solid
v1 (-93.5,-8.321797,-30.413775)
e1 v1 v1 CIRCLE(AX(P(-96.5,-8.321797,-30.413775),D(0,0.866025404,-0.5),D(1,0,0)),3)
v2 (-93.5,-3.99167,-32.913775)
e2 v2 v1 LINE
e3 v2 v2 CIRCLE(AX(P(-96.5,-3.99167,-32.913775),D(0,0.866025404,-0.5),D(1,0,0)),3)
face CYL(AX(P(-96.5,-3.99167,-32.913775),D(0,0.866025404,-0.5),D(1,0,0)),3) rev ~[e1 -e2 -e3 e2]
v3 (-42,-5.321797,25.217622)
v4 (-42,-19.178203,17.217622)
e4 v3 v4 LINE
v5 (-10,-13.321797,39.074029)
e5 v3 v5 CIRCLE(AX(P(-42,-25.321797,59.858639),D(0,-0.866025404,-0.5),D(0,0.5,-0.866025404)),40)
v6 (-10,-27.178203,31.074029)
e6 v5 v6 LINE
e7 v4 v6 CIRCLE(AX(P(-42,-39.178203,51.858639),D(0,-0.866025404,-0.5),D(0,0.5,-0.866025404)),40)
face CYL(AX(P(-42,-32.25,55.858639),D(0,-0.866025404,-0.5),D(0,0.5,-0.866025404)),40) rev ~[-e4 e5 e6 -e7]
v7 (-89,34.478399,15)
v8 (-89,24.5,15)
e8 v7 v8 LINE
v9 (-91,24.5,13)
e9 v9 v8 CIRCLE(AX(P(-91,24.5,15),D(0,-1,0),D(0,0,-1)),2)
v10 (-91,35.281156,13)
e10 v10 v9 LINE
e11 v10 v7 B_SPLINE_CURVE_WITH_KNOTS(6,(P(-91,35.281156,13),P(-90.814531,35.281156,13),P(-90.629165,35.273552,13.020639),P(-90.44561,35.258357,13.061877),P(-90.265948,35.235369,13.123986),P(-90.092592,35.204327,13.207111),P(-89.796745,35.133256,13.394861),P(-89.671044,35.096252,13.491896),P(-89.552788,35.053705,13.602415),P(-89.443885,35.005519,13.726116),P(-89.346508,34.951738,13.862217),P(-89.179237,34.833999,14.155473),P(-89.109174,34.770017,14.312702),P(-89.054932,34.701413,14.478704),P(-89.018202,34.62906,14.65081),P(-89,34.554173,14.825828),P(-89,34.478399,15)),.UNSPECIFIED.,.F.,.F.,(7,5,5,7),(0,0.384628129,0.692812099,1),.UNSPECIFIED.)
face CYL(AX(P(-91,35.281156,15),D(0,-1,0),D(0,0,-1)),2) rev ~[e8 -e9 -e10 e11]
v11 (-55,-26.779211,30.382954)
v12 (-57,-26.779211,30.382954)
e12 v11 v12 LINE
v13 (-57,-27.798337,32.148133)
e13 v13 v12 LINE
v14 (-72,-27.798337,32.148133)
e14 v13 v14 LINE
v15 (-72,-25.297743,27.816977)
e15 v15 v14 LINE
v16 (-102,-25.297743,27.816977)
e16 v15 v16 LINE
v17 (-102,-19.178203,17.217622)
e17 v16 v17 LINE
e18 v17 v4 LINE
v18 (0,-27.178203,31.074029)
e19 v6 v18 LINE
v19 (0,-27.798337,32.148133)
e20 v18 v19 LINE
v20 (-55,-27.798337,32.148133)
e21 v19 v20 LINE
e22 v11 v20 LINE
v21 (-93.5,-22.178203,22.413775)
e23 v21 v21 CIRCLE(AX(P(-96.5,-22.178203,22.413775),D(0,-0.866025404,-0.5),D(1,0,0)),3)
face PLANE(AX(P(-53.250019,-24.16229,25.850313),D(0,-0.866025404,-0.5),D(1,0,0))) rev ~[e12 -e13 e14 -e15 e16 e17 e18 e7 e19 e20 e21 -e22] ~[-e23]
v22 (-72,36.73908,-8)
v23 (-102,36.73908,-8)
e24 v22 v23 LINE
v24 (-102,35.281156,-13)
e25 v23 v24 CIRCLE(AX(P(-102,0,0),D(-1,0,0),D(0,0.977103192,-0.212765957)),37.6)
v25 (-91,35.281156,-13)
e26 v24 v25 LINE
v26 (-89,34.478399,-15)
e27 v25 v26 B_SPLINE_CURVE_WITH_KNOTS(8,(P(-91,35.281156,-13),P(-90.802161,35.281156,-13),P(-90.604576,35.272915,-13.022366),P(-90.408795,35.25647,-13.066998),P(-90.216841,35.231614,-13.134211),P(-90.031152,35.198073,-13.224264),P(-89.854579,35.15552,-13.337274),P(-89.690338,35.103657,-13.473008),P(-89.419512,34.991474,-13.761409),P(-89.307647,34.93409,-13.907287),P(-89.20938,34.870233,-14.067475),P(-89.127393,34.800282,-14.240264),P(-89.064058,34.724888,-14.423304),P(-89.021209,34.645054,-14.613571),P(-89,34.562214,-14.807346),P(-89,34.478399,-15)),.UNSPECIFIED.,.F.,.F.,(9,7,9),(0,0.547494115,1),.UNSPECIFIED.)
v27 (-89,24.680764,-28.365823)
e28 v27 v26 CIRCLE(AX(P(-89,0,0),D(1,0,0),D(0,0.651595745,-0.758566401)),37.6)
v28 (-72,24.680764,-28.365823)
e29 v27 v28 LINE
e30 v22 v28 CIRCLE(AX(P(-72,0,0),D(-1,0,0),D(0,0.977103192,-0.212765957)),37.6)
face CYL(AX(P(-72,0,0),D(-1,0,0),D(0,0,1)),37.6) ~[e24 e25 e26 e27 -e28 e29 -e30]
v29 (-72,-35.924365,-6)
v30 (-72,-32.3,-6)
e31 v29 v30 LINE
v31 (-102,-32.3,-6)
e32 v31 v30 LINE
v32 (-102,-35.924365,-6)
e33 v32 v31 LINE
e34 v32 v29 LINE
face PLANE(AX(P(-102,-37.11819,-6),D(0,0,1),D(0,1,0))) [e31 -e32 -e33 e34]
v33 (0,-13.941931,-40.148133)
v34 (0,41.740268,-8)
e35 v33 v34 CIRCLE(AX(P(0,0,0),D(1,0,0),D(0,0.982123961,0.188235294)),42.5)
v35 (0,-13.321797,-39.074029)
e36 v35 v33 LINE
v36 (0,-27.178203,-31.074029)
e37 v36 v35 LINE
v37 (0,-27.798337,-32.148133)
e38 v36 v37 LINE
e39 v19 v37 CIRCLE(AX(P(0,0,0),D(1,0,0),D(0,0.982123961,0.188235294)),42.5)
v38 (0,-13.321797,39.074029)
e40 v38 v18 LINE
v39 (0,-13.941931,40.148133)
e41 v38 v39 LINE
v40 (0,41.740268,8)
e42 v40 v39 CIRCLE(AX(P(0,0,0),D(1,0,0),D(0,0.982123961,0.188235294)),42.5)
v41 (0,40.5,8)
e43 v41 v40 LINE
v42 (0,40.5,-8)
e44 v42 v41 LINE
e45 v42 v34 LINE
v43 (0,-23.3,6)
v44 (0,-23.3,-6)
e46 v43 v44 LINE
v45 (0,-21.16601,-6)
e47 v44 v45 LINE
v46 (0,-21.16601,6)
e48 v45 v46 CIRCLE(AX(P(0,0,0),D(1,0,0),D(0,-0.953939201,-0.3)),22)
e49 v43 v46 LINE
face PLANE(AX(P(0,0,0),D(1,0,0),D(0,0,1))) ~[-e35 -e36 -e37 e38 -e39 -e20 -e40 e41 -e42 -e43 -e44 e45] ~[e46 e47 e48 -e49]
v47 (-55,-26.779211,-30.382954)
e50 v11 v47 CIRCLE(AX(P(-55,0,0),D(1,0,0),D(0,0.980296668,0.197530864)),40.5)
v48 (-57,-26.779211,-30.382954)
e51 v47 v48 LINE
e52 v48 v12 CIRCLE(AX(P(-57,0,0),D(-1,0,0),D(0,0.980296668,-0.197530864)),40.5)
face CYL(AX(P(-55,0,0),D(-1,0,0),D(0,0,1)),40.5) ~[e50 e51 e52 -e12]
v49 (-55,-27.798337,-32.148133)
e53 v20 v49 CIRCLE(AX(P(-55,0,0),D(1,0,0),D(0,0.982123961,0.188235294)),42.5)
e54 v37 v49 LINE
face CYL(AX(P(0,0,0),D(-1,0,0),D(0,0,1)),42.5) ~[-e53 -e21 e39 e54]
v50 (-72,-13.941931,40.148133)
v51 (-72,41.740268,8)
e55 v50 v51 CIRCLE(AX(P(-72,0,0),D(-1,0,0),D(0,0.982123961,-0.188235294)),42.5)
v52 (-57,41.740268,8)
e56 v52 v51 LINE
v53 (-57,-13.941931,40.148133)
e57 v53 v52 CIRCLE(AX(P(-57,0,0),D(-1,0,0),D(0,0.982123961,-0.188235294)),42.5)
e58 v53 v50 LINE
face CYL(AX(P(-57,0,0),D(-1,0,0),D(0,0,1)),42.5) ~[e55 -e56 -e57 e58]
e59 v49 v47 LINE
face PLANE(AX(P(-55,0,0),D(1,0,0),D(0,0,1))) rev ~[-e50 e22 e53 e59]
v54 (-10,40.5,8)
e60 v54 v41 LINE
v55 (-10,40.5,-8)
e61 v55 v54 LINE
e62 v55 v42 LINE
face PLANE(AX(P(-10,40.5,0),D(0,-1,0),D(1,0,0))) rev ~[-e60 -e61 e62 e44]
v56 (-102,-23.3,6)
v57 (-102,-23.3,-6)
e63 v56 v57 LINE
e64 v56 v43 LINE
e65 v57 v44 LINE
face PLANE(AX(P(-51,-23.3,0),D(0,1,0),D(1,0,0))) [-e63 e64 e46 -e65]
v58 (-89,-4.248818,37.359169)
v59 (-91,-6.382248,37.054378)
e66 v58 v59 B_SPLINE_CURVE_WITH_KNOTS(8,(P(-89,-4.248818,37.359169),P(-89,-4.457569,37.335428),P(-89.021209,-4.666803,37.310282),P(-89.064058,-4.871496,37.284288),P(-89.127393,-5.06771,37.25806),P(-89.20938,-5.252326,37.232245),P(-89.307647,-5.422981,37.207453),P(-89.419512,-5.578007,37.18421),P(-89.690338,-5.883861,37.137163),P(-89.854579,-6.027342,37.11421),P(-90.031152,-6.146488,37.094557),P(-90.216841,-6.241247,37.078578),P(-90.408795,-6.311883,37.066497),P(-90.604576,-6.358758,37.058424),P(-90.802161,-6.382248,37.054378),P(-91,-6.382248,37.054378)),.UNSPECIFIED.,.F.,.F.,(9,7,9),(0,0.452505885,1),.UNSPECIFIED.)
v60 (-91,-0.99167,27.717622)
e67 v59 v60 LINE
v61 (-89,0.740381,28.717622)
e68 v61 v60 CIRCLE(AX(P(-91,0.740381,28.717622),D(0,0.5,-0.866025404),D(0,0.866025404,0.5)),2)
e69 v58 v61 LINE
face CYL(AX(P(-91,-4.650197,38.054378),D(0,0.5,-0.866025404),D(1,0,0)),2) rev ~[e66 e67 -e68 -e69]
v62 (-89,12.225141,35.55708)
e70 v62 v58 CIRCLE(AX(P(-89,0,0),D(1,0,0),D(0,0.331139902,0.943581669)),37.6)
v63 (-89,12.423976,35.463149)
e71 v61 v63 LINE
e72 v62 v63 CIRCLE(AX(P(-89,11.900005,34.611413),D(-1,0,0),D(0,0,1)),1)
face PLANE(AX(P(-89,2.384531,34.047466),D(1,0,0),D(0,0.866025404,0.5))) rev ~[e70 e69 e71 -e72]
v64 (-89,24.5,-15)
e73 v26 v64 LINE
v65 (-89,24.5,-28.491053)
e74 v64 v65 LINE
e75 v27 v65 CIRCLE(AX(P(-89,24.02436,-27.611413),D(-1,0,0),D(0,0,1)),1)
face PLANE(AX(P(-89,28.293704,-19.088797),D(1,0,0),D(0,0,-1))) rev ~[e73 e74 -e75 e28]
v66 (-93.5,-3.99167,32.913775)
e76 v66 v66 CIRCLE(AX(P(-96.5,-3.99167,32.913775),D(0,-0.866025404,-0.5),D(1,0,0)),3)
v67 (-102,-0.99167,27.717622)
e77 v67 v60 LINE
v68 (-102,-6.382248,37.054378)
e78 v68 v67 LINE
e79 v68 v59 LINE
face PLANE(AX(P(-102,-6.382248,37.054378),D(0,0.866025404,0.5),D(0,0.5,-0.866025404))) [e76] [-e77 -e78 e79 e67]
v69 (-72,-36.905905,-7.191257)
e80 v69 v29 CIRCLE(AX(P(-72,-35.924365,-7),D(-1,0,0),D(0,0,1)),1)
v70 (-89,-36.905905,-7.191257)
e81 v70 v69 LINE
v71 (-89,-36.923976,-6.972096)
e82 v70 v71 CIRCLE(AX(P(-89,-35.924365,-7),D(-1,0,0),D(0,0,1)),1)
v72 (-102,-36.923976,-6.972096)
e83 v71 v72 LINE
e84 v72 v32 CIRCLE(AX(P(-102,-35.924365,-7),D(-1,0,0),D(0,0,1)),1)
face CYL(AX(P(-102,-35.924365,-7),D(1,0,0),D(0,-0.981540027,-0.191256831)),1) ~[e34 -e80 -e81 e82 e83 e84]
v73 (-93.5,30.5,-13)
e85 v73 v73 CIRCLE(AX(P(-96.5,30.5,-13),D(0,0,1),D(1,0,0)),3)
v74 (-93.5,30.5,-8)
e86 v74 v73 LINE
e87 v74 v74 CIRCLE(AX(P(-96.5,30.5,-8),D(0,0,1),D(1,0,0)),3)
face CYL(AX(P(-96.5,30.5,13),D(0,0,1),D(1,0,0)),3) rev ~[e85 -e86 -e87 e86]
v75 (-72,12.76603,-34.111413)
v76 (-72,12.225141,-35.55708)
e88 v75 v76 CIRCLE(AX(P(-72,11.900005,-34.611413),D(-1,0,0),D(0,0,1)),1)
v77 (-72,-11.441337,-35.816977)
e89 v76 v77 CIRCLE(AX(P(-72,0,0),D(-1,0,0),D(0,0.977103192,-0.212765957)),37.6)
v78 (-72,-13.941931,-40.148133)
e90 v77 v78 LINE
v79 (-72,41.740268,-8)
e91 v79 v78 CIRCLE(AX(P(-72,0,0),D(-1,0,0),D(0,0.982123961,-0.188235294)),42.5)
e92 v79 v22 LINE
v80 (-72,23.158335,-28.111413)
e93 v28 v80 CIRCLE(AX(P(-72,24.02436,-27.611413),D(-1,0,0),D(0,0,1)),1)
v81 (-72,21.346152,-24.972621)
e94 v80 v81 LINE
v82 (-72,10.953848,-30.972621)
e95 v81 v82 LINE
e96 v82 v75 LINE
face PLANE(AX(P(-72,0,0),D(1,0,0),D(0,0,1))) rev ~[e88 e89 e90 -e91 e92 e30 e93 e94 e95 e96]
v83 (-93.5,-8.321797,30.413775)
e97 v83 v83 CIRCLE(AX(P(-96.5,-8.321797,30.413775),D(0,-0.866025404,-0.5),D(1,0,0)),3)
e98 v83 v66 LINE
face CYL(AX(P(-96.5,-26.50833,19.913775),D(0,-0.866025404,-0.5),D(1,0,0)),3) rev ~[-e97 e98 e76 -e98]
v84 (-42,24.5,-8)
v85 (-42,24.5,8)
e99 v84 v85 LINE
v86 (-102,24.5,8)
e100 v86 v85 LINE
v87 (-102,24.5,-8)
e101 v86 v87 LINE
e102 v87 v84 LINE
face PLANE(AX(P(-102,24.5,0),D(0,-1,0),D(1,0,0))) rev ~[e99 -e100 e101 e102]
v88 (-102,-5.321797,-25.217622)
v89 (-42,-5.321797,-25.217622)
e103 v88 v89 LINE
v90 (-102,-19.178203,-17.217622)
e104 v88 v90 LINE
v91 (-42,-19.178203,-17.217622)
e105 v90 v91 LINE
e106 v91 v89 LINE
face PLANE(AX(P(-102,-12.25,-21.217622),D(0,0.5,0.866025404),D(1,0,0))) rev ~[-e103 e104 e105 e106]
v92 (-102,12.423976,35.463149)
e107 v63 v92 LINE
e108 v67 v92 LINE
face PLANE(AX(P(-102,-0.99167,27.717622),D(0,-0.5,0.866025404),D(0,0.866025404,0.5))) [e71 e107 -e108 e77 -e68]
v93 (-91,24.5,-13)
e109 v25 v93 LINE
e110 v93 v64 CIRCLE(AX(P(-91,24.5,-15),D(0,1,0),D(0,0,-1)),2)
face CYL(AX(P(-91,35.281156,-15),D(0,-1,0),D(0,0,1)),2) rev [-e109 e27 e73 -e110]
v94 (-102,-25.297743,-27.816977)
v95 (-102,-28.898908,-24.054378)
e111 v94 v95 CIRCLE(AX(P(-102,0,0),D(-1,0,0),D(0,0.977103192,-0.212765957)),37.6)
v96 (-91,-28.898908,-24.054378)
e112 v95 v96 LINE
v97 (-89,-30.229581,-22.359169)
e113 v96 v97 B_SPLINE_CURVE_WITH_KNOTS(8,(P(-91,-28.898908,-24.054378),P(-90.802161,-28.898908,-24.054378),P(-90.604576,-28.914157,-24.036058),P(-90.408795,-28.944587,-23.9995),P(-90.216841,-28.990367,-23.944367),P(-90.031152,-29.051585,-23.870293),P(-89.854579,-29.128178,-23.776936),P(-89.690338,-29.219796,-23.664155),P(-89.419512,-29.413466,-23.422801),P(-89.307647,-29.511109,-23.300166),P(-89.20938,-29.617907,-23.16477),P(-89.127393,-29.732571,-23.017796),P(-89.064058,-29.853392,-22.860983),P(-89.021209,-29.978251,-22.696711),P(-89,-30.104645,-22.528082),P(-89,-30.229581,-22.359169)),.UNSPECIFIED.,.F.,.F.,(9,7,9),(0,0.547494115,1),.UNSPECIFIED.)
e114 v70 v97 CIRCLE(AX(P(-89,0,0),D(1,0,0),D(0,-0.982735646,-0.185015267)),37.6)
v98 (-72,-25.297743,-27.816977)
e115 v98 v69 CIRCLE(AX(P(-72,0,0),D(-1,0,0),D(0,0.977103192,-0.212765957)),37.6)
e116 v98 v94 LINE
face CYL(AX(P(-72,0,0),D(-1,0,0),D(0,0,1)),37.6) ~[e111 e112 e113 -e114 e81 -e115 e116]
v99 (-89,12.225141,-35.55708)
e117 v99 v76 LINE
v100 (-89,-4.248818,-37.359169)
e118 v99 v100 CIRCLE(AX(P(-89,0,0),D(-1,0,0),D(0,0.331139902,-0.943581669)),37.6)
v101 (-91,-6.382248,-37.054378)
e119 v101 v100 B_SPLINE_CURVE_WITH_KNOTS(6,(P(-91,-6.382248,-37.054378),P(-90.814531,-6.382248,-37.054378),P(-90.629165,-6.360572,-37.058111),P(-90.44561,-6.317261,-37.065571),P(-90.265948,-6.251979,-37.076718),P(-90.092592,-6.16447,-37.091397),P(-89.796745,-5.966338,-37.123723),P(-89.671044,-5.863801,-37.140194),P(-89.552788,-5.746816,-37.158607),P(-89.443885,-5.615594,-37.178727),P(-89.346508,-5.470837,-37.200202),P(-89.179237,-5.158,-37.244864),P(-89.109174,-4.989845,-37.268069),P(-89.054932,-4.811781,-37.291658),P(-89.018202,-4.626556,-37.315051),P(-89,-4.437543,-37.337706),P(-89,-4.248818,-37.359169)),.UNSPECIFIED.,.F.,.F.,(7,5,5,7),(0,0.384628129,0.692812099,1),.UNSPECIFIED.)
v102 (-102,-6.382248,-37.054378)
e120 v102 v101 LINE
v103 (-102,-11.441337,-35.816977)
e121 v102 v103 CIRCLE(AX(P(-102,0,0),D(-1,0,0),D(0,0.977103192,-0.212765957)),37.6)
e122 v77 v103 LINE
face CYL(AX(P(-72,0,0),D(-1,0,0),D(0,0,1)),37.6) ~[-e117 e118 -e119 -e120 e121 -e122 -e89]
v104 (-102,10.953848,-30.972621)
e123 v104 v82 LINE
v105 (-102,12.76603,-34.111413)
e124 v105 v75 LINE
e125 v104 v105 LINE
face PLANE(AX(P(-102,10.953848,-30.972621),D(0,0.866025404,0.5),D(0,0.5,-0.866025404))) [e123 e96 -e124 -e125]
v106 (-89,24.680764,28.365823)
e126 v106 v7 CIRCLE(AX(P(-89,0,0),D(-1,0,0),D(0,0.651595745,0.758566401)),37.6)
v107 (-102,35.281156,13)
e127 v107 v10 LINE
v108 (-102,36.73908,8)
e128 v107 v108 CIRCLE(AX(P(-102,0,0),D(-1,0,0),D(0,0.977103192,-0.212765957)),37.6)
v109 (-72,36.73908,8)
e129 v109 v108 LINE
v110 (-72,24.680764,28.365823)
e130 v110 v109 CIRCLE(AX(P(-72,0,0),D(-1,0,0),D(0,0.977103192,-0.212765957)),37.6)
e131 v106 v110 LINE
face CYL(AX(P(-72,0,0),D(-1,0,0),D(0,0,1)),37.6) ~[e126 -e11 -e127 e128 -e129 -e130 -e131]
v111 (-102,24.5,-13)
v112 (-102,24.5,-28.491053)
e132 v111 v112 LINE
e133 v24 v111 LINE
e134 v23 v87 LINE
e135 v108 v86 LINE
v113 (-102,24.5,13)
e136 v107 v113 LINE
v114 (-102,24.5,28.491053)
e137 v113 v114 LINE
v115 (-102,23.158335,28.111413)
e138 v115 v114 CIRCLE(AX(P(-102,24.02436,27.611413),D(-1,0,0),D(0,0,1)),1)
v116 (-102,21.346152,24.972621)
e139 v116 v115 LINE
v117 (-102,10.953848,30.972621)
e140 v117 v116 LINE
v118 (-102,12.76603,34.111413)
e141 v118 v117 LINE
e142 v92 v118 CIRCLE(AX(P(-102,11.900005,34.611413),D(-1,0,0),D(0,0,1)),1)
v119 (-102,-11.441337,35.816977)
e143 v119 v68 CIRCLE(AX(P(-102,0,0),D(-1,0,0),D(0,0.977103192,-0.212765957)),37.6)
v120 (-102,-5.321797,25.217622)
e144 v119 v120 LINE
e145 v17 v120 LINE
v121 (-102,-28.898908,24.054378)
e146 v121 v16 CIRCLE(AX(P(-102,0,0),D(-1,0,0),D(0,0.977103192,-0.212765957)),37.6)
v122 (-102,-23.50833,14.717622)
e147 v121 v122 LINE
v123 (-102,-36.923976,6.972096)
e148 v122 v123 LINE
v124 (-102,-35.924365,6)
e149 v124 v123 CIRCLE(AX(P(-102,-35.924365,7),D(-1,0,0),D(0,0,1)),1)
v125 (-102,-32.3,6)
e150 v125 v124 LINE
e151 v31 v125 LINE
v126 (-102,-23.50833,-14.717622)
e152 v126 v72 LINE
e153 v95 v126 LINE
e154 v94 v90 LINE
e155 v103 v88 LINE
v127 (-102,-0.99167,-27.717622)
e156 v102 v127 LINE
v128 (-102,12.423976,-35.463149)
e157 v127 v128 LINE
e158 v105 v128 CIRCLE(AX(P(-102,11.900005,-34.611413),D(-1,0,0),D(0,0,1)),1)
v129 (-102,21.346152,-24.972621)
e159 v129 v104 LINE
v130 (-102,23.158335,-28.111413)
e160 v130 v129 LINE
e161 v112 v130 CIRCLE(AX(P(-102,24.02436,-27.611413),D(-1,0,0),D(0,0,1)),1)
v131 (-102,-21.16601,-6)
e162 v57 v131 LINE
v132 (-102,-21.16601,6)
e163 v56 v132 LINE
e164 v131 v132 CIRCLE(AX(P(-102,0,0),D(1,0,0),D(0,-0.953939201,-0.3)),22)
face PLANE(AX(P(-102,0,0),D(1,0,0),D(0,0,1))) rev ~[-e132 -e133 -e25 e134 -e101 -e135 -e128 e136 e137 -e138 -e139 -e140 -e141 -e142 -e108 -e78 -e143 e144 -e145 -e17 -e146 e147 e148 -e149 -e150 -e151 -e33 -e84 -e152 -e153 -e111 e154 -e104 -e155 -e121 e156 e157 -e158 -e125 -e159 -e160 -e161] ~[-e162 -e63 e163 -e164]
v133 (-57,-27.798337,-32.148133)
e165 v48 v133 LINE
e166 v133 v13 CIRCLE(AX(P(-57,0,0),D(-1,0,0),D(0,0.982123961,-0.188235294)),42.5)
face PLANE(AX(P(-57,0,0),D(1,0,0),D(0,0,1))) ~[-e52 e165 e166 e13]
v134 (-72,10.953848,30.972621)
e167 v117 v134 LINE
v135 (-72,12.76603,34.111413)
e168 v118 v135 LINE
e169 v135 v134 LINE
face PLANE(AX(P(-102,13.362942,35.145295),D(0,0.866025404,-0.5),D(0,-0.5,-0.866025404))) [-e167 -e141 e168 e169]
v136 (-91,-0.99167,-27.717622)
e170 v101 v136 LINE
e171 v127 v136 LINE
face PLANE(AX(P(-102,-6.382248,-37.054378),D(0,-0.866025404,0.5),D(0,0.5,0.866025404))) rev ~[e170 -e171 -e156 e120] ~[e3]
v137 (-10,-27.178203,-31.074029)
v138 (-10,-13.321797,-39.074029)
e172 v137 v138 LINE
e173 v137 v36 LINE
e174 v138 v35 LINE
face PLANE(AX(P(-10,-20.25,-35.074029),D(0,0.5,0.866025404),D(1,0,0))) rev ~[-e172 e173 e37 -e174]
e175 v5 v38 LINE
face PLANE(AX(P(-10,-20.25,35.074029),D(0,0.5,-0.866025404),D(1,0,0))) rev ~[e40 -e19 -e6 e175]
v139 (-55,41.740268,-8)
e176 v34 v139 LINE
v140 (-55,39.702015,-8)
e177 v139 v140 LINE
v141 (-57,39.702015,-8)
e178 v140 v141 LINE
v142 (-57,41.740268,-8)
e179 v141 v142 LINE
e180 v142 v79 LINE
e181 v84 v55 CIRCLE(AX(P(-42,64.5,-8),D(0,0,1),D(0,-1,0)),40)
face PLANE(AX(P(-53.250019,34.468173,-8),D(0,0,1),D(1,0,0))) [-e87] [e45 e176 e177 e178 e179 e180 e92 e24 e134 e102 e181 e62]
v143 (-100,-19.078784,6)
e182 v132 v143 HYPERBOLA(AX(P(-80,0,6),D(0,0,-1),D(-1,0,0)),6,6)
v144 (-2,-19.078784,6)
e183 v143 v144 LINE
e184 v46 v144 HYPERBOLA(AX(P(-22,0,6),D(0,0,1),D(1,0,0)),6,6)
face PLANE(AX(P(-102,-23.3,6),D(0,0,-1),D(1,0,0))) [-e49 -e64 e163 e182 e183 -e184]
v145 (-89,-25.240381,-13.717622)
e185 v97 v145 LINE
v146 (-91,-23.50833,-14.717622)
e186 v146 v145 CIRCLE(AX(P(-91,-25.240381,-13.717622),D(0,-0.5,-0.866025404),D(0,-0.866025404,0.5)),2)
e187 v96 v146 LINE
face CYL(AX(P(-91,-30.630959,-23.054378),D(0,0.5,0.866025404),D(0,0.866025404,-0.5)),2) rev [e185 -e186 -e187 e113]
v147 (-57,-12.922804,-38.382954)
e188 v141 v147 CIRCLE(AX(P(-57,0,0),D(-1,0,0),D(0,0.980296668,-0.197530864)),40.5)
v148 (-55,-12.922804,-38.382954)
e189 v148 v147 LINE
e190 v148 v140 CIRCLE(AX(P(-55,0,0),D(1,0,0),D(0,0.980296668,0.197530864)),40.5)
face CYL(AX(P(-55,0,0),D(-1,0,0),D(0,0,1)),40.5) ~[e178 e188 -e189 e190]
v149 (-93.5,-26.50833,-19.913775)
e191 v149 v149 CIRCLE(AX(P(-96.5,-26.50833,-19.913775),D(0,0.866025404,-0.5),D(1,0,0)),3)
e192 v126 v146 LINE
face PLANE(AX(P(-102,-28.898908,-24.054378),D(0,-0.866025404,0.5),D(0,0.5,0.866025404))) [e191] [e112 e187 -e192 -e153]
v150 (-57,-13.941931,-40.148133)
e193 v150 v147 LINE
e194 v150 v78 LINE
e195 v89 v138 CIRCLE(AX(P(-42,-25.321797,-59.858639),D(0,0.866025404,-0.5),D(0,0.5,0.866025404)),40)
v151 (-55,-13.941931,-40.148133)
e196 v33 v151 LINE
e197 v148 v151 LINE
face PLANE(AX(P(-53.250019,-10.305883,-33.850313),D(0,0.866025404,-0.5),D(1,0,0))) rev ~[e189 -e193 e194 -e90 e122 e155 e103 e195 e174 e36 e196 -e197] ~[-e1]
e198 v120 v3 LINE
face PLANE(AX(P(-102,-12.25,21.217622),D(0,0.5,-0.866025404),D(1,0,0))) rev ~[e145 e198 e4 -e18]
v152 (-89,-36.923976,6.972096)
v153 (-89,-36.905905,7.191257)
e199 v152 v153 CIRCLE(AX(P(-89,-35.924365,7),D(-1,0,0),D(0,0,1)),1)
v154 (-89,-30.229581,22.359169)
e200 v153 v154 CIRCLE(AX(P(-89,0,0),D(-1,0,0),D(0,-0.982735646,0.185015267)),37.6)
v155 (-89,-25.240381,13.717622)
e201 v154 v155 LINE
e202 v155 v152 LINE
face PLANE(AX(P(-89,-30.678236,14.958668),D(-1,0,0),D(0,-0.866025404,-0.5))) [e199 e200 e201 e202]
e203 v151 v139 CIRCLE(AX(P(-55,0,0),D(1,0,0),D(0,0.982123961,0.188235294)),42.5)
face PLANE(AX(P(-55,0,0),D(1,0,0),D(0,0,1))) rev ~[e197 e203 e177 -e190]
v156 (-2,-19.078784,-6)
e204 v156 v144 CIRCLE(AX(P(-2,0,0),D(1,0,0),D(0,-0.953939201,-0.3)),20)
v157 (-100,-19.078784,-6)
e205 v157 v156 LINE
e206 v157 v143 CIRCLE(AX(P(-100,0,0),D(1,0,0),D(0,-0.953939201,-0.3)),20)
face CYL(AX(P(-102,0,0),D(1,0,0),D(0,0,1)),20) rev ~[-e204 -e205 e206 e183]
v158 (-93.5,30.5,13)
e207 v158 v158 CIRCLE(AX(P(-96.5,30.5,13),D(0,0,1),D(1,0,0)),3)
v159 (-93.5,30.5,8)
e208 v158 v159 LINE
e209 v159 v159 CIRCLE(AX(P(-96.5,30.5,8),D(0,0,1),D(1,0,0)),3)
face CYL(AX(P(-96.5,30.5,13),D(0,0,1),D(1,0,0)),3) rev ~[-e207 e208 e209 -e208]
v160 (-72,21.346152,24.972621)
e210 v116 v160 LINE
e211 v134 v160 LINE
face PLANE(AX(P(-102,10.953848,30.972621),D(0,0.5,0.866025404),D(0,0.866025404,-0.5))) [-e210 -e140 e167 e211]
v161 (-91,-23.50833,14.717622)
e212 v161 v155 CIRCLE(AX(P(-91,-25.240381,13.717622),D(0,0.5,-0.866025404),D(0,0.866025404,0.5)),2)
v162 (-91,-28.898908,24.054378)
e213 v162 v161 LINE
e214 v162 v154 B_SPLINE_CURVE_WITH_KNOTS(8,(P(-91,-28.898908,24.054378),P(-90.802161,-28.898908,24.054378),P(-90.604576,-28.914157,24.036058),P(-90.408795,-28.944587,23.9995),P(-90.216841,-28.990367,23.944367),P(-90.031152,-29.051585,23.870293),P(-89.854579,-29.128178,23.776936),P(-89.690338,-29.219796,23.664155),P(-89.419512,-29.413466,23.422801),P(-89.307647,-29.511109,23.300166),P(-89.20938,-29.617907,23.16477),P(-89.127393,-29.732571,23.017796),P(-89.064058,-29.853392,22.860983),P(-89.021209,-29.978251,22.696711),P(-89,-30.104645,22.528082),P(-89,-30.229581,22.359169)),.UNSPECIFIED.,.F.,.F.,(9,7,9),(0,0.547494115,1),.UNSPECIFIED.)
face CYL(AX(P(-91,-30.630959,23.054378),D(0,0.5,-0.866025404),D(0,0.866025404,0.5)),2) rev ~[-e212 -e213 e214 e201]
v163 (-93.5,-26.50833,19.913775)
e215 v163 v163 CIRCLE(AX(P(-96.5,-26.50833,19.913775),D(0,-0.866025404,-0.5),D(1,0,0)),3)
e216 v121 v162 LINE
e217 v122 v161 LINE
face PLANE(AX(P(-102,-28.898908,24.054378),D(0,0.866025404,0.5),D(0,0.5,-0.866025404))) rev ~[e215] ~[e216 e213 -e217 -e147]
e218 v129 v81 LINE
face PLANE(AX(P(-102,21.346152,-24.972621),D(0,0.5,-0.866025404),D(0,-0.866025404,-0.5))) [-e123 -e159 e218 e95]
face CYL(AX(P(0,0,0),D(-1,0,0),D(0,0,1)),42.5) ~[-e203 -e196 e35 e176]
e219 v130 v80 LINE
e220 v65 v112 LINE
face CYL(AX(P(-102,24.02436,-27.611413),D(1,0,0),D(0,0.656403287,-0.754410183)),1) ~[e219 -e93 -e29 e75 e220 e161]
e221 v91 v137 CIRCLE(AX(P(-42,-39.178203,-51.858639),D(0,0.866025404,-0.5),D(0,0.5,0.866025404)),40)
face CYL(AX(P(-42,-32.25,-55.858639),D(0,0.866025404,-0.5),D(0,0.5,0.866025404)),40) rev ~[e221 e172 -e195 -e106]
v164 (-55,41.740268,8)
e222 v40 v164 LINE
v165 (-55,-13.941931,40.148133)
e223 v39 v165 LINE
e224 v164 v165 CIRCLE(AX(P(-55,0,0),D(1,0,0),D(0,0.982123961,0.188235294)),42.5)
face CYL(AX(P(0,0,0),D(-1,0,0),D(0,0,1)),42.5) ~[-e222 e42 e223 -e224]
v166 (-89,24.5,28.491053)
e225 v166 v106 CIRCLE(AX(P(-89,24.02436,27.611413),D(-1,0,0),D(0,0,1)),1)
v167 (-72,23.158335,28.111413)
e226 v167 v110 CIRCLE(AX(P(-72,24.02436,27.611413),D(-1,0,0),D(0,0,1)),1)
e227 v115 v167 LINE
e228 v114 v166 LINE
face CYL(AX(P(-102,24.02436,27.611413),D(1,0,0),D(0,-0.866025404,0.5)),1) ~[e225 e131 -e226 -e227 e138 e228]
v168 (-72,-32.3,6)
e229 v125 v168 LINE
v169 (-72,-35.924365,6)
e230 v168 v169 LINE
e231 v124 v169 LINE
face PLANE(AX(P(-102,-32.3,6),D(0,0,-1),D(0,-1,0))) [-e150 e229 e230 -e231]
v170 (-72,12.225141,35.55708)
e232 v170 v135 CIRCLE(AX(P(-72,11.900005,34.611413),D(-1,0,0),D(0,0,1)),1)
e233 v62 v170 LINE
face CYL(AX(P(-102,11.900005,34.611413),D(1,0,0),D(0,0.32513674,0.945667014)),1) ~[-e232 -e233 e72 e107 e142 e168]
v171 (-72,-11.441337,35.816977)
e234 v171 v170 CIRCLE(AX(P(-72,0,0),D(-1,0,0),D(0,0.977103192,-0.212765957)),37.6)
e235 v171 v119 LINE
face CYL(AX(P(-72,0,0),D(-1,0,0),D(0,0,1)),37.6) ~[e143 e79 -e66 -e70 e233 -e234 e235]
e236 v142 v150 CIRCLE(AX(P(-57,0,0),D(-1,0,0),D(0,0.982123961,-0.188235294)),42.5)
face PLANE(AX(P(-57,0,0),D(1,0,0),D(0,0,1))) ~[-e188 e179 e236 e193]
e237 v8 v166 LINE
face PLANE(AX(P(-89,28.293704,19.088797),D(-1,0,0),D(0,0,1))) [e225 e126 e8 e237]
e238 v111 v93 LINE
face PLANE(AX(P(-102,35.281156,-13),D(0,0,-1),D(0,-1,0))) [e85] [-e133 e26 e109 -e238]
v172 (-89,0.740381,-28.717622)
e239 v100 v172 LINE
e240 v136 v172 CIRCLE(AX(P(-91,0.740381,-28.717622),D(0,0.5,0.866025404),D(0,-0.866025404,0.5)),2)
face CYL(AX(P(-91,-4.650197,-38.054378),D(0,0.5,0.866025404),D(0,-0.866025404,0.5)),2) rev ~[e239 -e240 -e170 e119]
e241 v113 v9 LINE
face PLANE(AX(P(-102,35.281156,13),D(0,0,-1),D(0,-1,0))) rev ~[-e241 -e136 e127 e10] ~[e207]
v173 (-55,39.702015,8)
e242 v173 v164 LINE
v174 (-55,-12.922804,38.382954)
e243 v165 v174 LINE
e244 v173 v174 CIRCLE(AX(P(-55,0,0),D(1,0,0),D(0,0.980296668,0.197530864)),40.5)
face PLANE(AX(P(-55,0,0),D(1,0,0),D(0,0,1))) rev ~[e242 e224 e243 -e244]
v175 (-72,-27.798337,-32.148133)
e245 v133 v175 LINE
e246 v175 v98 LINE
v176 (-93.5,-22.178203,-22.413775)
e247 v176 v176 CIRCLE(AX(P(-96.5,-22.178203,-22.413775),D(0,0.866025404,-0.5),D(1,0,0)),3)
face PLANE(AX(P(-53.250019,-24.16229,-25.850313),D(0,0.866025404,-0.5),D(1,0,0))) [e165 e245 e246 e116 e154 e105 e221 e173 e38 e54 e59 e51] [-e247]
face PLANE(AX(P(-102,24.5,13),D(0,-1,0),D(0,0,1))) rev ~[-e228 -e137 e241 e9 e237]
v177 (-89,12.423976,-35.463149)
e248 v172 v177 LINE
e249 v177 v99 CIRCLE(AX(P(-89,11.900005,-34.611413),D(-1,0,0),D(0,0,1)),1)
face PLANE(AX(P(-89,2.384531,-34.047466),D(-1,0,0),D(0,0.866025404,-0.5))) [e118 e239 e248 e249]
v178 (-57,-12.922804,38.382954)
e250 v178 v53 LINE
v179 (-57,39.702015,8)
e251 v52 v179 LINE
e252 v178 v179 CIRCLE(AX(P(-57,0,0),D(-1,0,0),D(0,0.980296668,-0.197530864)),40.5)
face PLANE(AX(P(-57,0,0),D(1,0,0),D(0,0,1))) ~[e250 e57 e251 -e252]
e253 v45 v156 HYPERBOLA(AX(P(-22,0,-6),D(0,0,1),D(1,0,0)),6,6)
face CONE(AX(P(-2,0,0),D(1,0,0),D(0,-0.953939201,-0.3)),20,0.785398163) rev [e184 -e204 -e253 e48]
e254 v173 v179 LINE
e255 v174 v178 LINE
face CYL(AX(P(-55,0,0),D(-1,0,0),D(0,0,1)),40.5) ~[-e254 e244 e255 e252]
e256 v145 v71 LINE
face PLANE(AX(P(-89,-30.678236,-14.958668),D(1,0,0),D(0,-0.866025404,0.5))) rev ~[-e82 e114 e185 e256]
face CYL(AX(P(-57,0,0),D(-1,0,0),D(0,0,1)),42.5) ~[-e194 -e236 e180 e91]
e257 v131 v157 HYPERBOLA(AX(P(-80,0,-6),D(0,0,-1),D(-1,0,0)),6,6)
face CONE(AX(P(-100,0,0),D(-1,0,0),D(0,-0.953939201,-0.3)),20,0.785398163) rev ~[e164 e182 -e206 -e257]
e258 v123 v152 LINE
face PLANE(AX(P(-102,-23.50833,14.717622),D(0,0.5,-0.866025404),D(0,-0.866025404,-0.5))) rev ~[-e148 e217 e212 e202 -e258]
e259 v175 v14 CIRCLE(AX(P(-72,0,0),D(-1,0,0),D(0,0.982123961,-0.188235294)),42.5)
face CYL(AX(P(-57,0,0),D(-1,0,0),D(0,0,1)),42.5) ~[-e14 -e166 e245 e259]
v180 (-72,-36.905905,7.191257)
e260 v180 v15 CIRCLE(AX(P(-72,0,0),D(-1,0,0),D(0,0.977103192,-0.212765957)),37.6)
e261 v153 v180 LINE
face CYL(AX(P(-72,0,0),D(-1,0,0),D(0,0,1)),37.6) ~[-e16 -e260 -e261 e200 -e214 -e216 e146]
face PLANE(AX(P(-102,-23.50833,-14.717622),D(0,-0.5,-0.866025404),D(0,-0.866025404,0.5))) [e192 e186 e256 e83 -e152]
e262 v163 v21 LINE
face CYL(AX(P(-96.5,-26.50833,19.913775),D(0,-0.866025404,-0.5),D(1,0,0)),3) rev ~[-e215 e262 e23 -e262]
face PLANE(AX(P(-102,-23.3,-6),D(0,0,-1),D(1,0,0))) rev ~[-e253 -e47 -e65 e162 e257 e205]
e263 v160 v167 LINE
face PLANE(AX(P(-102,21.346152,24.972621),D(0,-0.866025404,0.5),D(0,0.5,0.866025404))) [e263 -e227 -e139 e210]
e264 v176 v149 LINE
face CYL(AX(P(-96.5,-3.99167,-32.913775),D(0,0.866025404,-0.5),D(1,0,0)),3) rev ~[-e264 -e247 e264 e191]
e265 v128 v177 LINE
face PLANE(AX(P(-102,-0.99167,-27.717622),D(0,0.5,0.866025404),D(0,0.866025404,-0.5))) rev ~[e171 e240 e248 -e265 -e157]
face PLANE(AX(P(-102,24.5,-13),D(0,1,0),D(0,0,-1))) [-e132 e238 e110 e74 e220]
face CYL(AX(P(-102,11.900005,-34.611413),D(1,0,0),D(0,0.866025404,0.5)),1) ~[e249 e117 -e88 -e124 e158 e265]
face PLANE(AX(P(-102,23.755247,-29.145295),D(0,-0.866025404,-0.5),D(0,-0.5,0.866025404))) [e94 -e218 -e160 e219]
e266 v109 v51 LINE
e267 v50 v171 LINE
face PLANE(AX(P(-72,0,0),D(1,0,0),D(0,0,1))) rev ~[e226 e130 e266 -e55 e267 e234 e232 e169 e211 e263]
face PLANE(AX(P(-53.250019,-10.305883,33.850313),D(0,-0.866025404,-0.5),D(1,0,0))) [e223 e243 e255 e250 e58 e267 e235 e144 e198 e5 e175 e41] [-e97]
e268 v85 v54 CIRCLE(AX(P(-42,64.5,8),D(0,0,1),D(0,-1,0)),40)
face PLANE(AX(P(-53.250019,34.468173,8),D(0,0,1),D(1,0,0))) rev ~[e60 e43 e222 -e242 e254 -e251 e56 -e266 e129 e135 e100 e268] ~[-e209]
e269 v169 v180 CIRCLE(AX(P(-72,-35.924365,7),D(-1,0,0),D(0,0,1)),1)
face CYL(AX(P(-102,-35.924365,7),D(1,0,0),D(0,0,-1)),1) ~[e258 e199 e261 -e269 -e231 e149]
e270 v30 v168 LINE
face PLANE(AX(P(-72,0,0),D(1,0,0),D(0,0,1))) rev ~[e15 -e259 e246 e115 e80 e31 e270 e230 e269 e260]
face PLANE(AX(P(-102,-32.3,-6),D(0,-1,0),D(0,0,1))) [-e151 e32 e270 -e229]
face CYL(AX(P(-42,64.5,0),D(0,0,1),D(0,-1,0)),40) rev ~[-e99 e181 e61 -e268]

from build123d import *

# Parameters (mm, degrees)
CUT_EXTRUDE1_DEPTH       = 8
CIRPATTERN1_COUNT        = 3
CUT_EXTRUDE2_DEPTH       = 13
FILLET1_R                = 2
CUT_EXTRUDE3_REACH       = 125.655
SKETCH6_R                = 3
CIRPATTERN2_COUNT        = 3
FILLET1_OF_CIRPATTERN2_R = 2
CUT_EXTRUDE4_DEPTH       = 30
FILLET2_R                = 1
CIRPATTERN3_COUNT        = 3
FILLET2_OF_CIRPATTERN3_R = 1
CUT_EXTRUDE5_REACH       = 130.22
SKETCH9_W                = 102
SKETCH9_H                = 12
CHAMFER2_SIZE            = 2


with BuildPart() as part:
    # Sketch1 → Revolve1 (revolve)
    with BuildSketch(Plane.XY, mode=Mode.PRIVATE) as revolve1_sk:
        Polygon((0, 20), (0, 42.5), (-55, 42.5), (-55, 40.5), (-57, 40.5), (-57, 42.5), (-72, 42.5), (-72, 37.6), (-102, 37.6), (-102, 20), align=None)
    revolve(revolve1_sk.sketch.rotate(Axis((-534.701035213, 0, 0), (1, 0, 0)), 90), axis=Axis((-534.701035213, 0, 0), (1, 0, 0)))

    # Sketch3 → Cut-Extrude1 (cut, symmetric)
    with BuildSketch(Plane.XY):
        with BuildLine():
            Line((-102, 24.5), (-42, 24.5))
            ThreePointArc((-42, 24.5), (-24.11145618, 28.72291236), (-10, 40.5))
            Line((-10, 40.5), (0, 40.5))
            Line((0, 40.5), (0, 42.5))
            Line((0, 42.5), (-55, 42.5))
            Line((-55, 42.5), (-55, 40.5))
            Line((-55, 40.5), (-57, 40.5))
            Line((-57, 40.5), (-57, 42.5))
            Line((-57, 42.5), (-72, 42.5))
            Line((-72, 42.5), (-72, 37.6))
            Line((-72, 37.6), (-102, 37.6))
            Line((-102, 37.6), (-102, 24.5))
        make_face()
    cut_extrude1 = extrude(amount=CUT_EXTRUDE1_DEPTH, both=True, mode=Mode.SUBTRACT)

    # CirPattern1: Cut-Extrude1 ×3 about axis
    cirpattern1_axis = Axis((0, 0, 0), (1, 0, 0))
    for i in range(1, CIRPATTERN1_COUNT):
        add(cut_extrude1.rotate(cirpattern1_axis, i * 360 / CIRPATTERN1_COUNT), mode=Mode.SUBTRACT)

    # Sketch4 → Cut-Extrude2 (cut)
    with BuildSketch(Plane.ZY.offset(102)):
        with BuildLine():
            Line((-13, 35.281156444), (-13, 24.5))
            Line((-13, 24.5), (-28.522096697, 24.5))
            ThreePointArc((-28.522096697, 24.5), (-21.449462979, 30.881718506), (-13, 35.281156444))
        make_face()
        with BuildLine():
            Line((13, 35.281156444), (13, 24.5))
            Line((13, 24.5), (28.522096697, 24.5))
            ThreePointArc((28.522096697, 24.5), (21.449462979, 30.881718506), (13, 35.281156444))
        make_face()
    cut_extrude2 = extrude(amount=-CUT_EXTRUDE2_DEPTH, mode=Mode.SUBTRACT)

    # Fillet1
    fillet1_edges = [part.edges().sort_by_distance(p)[0] for p in [
        (-89, 29.890578222, -13),
        (-89, 29.890578222, 13),
    ]]
    fillet(fillet1_edges, radius=FILLET1_R)

    # Cut-Extrude3: up to this face of the body (flat: up to its plane)
    cut_extrude3_end = Plane(part.part.faces().sort_by_distance((-96.5, 29.890578222, -13))[0])
    # Sketch6 → Cut-Extrude3 (cut, up to the picked face)
    with BuildSketch(Plane.XY.offset(13), mode=Mode.PRIVATE) as cut_extrude3_sk1:
        with Locations((-96.5, 30.5)):
            Circle(SKETCH6_R)
    cut_extrude3_tool1 = split(extrude(cut_extrude3_sk1.sketch, amount=-CUT_EXTRUDE3_REACH, mode=Mode.PRIVATE), bisect_by=cut_extrude3_end, keep=Keep.BOTH, mode=Mode.PRIVATE)
    cut_extrude3 = cut_extrude3_tool1.solids().sort_by(Axis((-96.5, 30.5, 13), (0, 0, -1)))[0]
    add(cut_extrude3, mode=Mode.SUBTRACT)

    # CirPattern2: Cut-Extrude2, Cut-Extrude3 ×3 about axis
    cirpattern2_axis = Axis((0, 0, 0), (1, 0, 0))
    add([cut_extrude2.rotate(cirpattern2_axis, i * 360 / CIRPATTERN2_COUNT) for i in range(1, CIRPATTERN2_COUNT)], mode=Mode.SUBTRACT)
    add([cut_extrude3.rotate(cirpattern2_axis, i * 360 / CIRPATTERN2_COUNT) for i in range(1, CIRPATTERN2_COUNT)], mode=Mode.SUBTRACT)

    # Fillet1 of CirPattern2
    fillet1_of_cirpattern2_edges = [part.edges().sort_by_distance(p)[0] for p in [
        (-89, -3.686958862, 32.386000074),
        (-89, -26.20361936, 19.386000074),
        (-89, -26.20361936, -19.386000074),
        (-89, -3.686958862, -32.386000074),
    ]]
    fillet(fillet1_of_cirpattern2_edges, radius=FILLET1_OF_CIRPATTERN2_R)

    # Sketch7 → Cut-Extrude4 (cut)
    with BuildSketch(Plane.ZY.offset(102)):
        with BuildLine():
            Line((-6, -37.118189611), (-6, -32.3))
            Line((-6, -32.3), (6, -32.3))
            Line((6, -32.3), (6, -37.118189611))
            ThreePointArc((6, -37.118189611), (0, -37.6), (-6, -37.118189611))
        make_face()
    cut_extrude4 = extrude(amount=-CUT_EXTRUDE4_DEPTH, mode=Mode.SUBTRACT)

    # Fillet2
    fillet2_edges = [part.edges().sort_by_distance(p)[0] for p in [
        (-87, -37.118189611, 6),
        (-87, -37.118189611, -6),
    ]]
    fillet(fillet2_edges, radius=FILLET2_R)

    # CirPattern3: Cut-Extrude4 ×3 about axis
    cirpattern3_axis = Axis((0, 0, 0), (1, 0, 0))
    for i in range(1, CIRPATTERN3_COUNT):
        add(cut_extrude4.rotate(cirpattern3_axis, i * 360 / CIRPATTERN3_COUNT), mode=Mode.SUBTRACT)

    # Fillet2 of CirPattern3
    fillet2_of_cirpattern3_edges = [part.edges().sort_by_distance(p)[0] for p in [
        (-87, 13.362942383, -35.145295146),
        (-87, 23.755247228, -29.145295146),
        (-87, 23.755247228, 29.145295146),
        (-87, 13.362942383, 35.145295146),
    ]]
    fillet(fillet2_of_cirpattern3_edges, radius=FILLET2_OF_CIRPATTERN3_R)

    # Sketch9 → Cut-Extrude5 (cut, up to next)
    with BuildSketch(Plane(origin=(0, -23.3, 0), x_dir=(1, 0, 0), z_dir=(0, 1, 0)), mode=Mode.PRIVATE) as cut_extrude5_sk1:
        with Locations((-51, 0)):
            Rectangle(SKETCH9_W, SKETCH9_H)
    cut_extrude5_tool1 = extrude(cut_extrude5_sk1.sketch, amount=CUT_EXTRUDE5_REACH, mode=Mode.PRIVATE) & part.part
    add(cut_extrude5_tool1.solids().sort_by_distance((-51, -23.3, 0))[0], mode=Mode.SUBTRACT)

    # Chamfer2
    chamfer2_edges = [part.edges().sort_by_distance(p)[0] for p in [
        (0, 20, 0),
        (-102, 20, 0),
    ]]
    chamfer(chamfer2_edges, length=CHAMFER2_SIZE)


solid = part.part
